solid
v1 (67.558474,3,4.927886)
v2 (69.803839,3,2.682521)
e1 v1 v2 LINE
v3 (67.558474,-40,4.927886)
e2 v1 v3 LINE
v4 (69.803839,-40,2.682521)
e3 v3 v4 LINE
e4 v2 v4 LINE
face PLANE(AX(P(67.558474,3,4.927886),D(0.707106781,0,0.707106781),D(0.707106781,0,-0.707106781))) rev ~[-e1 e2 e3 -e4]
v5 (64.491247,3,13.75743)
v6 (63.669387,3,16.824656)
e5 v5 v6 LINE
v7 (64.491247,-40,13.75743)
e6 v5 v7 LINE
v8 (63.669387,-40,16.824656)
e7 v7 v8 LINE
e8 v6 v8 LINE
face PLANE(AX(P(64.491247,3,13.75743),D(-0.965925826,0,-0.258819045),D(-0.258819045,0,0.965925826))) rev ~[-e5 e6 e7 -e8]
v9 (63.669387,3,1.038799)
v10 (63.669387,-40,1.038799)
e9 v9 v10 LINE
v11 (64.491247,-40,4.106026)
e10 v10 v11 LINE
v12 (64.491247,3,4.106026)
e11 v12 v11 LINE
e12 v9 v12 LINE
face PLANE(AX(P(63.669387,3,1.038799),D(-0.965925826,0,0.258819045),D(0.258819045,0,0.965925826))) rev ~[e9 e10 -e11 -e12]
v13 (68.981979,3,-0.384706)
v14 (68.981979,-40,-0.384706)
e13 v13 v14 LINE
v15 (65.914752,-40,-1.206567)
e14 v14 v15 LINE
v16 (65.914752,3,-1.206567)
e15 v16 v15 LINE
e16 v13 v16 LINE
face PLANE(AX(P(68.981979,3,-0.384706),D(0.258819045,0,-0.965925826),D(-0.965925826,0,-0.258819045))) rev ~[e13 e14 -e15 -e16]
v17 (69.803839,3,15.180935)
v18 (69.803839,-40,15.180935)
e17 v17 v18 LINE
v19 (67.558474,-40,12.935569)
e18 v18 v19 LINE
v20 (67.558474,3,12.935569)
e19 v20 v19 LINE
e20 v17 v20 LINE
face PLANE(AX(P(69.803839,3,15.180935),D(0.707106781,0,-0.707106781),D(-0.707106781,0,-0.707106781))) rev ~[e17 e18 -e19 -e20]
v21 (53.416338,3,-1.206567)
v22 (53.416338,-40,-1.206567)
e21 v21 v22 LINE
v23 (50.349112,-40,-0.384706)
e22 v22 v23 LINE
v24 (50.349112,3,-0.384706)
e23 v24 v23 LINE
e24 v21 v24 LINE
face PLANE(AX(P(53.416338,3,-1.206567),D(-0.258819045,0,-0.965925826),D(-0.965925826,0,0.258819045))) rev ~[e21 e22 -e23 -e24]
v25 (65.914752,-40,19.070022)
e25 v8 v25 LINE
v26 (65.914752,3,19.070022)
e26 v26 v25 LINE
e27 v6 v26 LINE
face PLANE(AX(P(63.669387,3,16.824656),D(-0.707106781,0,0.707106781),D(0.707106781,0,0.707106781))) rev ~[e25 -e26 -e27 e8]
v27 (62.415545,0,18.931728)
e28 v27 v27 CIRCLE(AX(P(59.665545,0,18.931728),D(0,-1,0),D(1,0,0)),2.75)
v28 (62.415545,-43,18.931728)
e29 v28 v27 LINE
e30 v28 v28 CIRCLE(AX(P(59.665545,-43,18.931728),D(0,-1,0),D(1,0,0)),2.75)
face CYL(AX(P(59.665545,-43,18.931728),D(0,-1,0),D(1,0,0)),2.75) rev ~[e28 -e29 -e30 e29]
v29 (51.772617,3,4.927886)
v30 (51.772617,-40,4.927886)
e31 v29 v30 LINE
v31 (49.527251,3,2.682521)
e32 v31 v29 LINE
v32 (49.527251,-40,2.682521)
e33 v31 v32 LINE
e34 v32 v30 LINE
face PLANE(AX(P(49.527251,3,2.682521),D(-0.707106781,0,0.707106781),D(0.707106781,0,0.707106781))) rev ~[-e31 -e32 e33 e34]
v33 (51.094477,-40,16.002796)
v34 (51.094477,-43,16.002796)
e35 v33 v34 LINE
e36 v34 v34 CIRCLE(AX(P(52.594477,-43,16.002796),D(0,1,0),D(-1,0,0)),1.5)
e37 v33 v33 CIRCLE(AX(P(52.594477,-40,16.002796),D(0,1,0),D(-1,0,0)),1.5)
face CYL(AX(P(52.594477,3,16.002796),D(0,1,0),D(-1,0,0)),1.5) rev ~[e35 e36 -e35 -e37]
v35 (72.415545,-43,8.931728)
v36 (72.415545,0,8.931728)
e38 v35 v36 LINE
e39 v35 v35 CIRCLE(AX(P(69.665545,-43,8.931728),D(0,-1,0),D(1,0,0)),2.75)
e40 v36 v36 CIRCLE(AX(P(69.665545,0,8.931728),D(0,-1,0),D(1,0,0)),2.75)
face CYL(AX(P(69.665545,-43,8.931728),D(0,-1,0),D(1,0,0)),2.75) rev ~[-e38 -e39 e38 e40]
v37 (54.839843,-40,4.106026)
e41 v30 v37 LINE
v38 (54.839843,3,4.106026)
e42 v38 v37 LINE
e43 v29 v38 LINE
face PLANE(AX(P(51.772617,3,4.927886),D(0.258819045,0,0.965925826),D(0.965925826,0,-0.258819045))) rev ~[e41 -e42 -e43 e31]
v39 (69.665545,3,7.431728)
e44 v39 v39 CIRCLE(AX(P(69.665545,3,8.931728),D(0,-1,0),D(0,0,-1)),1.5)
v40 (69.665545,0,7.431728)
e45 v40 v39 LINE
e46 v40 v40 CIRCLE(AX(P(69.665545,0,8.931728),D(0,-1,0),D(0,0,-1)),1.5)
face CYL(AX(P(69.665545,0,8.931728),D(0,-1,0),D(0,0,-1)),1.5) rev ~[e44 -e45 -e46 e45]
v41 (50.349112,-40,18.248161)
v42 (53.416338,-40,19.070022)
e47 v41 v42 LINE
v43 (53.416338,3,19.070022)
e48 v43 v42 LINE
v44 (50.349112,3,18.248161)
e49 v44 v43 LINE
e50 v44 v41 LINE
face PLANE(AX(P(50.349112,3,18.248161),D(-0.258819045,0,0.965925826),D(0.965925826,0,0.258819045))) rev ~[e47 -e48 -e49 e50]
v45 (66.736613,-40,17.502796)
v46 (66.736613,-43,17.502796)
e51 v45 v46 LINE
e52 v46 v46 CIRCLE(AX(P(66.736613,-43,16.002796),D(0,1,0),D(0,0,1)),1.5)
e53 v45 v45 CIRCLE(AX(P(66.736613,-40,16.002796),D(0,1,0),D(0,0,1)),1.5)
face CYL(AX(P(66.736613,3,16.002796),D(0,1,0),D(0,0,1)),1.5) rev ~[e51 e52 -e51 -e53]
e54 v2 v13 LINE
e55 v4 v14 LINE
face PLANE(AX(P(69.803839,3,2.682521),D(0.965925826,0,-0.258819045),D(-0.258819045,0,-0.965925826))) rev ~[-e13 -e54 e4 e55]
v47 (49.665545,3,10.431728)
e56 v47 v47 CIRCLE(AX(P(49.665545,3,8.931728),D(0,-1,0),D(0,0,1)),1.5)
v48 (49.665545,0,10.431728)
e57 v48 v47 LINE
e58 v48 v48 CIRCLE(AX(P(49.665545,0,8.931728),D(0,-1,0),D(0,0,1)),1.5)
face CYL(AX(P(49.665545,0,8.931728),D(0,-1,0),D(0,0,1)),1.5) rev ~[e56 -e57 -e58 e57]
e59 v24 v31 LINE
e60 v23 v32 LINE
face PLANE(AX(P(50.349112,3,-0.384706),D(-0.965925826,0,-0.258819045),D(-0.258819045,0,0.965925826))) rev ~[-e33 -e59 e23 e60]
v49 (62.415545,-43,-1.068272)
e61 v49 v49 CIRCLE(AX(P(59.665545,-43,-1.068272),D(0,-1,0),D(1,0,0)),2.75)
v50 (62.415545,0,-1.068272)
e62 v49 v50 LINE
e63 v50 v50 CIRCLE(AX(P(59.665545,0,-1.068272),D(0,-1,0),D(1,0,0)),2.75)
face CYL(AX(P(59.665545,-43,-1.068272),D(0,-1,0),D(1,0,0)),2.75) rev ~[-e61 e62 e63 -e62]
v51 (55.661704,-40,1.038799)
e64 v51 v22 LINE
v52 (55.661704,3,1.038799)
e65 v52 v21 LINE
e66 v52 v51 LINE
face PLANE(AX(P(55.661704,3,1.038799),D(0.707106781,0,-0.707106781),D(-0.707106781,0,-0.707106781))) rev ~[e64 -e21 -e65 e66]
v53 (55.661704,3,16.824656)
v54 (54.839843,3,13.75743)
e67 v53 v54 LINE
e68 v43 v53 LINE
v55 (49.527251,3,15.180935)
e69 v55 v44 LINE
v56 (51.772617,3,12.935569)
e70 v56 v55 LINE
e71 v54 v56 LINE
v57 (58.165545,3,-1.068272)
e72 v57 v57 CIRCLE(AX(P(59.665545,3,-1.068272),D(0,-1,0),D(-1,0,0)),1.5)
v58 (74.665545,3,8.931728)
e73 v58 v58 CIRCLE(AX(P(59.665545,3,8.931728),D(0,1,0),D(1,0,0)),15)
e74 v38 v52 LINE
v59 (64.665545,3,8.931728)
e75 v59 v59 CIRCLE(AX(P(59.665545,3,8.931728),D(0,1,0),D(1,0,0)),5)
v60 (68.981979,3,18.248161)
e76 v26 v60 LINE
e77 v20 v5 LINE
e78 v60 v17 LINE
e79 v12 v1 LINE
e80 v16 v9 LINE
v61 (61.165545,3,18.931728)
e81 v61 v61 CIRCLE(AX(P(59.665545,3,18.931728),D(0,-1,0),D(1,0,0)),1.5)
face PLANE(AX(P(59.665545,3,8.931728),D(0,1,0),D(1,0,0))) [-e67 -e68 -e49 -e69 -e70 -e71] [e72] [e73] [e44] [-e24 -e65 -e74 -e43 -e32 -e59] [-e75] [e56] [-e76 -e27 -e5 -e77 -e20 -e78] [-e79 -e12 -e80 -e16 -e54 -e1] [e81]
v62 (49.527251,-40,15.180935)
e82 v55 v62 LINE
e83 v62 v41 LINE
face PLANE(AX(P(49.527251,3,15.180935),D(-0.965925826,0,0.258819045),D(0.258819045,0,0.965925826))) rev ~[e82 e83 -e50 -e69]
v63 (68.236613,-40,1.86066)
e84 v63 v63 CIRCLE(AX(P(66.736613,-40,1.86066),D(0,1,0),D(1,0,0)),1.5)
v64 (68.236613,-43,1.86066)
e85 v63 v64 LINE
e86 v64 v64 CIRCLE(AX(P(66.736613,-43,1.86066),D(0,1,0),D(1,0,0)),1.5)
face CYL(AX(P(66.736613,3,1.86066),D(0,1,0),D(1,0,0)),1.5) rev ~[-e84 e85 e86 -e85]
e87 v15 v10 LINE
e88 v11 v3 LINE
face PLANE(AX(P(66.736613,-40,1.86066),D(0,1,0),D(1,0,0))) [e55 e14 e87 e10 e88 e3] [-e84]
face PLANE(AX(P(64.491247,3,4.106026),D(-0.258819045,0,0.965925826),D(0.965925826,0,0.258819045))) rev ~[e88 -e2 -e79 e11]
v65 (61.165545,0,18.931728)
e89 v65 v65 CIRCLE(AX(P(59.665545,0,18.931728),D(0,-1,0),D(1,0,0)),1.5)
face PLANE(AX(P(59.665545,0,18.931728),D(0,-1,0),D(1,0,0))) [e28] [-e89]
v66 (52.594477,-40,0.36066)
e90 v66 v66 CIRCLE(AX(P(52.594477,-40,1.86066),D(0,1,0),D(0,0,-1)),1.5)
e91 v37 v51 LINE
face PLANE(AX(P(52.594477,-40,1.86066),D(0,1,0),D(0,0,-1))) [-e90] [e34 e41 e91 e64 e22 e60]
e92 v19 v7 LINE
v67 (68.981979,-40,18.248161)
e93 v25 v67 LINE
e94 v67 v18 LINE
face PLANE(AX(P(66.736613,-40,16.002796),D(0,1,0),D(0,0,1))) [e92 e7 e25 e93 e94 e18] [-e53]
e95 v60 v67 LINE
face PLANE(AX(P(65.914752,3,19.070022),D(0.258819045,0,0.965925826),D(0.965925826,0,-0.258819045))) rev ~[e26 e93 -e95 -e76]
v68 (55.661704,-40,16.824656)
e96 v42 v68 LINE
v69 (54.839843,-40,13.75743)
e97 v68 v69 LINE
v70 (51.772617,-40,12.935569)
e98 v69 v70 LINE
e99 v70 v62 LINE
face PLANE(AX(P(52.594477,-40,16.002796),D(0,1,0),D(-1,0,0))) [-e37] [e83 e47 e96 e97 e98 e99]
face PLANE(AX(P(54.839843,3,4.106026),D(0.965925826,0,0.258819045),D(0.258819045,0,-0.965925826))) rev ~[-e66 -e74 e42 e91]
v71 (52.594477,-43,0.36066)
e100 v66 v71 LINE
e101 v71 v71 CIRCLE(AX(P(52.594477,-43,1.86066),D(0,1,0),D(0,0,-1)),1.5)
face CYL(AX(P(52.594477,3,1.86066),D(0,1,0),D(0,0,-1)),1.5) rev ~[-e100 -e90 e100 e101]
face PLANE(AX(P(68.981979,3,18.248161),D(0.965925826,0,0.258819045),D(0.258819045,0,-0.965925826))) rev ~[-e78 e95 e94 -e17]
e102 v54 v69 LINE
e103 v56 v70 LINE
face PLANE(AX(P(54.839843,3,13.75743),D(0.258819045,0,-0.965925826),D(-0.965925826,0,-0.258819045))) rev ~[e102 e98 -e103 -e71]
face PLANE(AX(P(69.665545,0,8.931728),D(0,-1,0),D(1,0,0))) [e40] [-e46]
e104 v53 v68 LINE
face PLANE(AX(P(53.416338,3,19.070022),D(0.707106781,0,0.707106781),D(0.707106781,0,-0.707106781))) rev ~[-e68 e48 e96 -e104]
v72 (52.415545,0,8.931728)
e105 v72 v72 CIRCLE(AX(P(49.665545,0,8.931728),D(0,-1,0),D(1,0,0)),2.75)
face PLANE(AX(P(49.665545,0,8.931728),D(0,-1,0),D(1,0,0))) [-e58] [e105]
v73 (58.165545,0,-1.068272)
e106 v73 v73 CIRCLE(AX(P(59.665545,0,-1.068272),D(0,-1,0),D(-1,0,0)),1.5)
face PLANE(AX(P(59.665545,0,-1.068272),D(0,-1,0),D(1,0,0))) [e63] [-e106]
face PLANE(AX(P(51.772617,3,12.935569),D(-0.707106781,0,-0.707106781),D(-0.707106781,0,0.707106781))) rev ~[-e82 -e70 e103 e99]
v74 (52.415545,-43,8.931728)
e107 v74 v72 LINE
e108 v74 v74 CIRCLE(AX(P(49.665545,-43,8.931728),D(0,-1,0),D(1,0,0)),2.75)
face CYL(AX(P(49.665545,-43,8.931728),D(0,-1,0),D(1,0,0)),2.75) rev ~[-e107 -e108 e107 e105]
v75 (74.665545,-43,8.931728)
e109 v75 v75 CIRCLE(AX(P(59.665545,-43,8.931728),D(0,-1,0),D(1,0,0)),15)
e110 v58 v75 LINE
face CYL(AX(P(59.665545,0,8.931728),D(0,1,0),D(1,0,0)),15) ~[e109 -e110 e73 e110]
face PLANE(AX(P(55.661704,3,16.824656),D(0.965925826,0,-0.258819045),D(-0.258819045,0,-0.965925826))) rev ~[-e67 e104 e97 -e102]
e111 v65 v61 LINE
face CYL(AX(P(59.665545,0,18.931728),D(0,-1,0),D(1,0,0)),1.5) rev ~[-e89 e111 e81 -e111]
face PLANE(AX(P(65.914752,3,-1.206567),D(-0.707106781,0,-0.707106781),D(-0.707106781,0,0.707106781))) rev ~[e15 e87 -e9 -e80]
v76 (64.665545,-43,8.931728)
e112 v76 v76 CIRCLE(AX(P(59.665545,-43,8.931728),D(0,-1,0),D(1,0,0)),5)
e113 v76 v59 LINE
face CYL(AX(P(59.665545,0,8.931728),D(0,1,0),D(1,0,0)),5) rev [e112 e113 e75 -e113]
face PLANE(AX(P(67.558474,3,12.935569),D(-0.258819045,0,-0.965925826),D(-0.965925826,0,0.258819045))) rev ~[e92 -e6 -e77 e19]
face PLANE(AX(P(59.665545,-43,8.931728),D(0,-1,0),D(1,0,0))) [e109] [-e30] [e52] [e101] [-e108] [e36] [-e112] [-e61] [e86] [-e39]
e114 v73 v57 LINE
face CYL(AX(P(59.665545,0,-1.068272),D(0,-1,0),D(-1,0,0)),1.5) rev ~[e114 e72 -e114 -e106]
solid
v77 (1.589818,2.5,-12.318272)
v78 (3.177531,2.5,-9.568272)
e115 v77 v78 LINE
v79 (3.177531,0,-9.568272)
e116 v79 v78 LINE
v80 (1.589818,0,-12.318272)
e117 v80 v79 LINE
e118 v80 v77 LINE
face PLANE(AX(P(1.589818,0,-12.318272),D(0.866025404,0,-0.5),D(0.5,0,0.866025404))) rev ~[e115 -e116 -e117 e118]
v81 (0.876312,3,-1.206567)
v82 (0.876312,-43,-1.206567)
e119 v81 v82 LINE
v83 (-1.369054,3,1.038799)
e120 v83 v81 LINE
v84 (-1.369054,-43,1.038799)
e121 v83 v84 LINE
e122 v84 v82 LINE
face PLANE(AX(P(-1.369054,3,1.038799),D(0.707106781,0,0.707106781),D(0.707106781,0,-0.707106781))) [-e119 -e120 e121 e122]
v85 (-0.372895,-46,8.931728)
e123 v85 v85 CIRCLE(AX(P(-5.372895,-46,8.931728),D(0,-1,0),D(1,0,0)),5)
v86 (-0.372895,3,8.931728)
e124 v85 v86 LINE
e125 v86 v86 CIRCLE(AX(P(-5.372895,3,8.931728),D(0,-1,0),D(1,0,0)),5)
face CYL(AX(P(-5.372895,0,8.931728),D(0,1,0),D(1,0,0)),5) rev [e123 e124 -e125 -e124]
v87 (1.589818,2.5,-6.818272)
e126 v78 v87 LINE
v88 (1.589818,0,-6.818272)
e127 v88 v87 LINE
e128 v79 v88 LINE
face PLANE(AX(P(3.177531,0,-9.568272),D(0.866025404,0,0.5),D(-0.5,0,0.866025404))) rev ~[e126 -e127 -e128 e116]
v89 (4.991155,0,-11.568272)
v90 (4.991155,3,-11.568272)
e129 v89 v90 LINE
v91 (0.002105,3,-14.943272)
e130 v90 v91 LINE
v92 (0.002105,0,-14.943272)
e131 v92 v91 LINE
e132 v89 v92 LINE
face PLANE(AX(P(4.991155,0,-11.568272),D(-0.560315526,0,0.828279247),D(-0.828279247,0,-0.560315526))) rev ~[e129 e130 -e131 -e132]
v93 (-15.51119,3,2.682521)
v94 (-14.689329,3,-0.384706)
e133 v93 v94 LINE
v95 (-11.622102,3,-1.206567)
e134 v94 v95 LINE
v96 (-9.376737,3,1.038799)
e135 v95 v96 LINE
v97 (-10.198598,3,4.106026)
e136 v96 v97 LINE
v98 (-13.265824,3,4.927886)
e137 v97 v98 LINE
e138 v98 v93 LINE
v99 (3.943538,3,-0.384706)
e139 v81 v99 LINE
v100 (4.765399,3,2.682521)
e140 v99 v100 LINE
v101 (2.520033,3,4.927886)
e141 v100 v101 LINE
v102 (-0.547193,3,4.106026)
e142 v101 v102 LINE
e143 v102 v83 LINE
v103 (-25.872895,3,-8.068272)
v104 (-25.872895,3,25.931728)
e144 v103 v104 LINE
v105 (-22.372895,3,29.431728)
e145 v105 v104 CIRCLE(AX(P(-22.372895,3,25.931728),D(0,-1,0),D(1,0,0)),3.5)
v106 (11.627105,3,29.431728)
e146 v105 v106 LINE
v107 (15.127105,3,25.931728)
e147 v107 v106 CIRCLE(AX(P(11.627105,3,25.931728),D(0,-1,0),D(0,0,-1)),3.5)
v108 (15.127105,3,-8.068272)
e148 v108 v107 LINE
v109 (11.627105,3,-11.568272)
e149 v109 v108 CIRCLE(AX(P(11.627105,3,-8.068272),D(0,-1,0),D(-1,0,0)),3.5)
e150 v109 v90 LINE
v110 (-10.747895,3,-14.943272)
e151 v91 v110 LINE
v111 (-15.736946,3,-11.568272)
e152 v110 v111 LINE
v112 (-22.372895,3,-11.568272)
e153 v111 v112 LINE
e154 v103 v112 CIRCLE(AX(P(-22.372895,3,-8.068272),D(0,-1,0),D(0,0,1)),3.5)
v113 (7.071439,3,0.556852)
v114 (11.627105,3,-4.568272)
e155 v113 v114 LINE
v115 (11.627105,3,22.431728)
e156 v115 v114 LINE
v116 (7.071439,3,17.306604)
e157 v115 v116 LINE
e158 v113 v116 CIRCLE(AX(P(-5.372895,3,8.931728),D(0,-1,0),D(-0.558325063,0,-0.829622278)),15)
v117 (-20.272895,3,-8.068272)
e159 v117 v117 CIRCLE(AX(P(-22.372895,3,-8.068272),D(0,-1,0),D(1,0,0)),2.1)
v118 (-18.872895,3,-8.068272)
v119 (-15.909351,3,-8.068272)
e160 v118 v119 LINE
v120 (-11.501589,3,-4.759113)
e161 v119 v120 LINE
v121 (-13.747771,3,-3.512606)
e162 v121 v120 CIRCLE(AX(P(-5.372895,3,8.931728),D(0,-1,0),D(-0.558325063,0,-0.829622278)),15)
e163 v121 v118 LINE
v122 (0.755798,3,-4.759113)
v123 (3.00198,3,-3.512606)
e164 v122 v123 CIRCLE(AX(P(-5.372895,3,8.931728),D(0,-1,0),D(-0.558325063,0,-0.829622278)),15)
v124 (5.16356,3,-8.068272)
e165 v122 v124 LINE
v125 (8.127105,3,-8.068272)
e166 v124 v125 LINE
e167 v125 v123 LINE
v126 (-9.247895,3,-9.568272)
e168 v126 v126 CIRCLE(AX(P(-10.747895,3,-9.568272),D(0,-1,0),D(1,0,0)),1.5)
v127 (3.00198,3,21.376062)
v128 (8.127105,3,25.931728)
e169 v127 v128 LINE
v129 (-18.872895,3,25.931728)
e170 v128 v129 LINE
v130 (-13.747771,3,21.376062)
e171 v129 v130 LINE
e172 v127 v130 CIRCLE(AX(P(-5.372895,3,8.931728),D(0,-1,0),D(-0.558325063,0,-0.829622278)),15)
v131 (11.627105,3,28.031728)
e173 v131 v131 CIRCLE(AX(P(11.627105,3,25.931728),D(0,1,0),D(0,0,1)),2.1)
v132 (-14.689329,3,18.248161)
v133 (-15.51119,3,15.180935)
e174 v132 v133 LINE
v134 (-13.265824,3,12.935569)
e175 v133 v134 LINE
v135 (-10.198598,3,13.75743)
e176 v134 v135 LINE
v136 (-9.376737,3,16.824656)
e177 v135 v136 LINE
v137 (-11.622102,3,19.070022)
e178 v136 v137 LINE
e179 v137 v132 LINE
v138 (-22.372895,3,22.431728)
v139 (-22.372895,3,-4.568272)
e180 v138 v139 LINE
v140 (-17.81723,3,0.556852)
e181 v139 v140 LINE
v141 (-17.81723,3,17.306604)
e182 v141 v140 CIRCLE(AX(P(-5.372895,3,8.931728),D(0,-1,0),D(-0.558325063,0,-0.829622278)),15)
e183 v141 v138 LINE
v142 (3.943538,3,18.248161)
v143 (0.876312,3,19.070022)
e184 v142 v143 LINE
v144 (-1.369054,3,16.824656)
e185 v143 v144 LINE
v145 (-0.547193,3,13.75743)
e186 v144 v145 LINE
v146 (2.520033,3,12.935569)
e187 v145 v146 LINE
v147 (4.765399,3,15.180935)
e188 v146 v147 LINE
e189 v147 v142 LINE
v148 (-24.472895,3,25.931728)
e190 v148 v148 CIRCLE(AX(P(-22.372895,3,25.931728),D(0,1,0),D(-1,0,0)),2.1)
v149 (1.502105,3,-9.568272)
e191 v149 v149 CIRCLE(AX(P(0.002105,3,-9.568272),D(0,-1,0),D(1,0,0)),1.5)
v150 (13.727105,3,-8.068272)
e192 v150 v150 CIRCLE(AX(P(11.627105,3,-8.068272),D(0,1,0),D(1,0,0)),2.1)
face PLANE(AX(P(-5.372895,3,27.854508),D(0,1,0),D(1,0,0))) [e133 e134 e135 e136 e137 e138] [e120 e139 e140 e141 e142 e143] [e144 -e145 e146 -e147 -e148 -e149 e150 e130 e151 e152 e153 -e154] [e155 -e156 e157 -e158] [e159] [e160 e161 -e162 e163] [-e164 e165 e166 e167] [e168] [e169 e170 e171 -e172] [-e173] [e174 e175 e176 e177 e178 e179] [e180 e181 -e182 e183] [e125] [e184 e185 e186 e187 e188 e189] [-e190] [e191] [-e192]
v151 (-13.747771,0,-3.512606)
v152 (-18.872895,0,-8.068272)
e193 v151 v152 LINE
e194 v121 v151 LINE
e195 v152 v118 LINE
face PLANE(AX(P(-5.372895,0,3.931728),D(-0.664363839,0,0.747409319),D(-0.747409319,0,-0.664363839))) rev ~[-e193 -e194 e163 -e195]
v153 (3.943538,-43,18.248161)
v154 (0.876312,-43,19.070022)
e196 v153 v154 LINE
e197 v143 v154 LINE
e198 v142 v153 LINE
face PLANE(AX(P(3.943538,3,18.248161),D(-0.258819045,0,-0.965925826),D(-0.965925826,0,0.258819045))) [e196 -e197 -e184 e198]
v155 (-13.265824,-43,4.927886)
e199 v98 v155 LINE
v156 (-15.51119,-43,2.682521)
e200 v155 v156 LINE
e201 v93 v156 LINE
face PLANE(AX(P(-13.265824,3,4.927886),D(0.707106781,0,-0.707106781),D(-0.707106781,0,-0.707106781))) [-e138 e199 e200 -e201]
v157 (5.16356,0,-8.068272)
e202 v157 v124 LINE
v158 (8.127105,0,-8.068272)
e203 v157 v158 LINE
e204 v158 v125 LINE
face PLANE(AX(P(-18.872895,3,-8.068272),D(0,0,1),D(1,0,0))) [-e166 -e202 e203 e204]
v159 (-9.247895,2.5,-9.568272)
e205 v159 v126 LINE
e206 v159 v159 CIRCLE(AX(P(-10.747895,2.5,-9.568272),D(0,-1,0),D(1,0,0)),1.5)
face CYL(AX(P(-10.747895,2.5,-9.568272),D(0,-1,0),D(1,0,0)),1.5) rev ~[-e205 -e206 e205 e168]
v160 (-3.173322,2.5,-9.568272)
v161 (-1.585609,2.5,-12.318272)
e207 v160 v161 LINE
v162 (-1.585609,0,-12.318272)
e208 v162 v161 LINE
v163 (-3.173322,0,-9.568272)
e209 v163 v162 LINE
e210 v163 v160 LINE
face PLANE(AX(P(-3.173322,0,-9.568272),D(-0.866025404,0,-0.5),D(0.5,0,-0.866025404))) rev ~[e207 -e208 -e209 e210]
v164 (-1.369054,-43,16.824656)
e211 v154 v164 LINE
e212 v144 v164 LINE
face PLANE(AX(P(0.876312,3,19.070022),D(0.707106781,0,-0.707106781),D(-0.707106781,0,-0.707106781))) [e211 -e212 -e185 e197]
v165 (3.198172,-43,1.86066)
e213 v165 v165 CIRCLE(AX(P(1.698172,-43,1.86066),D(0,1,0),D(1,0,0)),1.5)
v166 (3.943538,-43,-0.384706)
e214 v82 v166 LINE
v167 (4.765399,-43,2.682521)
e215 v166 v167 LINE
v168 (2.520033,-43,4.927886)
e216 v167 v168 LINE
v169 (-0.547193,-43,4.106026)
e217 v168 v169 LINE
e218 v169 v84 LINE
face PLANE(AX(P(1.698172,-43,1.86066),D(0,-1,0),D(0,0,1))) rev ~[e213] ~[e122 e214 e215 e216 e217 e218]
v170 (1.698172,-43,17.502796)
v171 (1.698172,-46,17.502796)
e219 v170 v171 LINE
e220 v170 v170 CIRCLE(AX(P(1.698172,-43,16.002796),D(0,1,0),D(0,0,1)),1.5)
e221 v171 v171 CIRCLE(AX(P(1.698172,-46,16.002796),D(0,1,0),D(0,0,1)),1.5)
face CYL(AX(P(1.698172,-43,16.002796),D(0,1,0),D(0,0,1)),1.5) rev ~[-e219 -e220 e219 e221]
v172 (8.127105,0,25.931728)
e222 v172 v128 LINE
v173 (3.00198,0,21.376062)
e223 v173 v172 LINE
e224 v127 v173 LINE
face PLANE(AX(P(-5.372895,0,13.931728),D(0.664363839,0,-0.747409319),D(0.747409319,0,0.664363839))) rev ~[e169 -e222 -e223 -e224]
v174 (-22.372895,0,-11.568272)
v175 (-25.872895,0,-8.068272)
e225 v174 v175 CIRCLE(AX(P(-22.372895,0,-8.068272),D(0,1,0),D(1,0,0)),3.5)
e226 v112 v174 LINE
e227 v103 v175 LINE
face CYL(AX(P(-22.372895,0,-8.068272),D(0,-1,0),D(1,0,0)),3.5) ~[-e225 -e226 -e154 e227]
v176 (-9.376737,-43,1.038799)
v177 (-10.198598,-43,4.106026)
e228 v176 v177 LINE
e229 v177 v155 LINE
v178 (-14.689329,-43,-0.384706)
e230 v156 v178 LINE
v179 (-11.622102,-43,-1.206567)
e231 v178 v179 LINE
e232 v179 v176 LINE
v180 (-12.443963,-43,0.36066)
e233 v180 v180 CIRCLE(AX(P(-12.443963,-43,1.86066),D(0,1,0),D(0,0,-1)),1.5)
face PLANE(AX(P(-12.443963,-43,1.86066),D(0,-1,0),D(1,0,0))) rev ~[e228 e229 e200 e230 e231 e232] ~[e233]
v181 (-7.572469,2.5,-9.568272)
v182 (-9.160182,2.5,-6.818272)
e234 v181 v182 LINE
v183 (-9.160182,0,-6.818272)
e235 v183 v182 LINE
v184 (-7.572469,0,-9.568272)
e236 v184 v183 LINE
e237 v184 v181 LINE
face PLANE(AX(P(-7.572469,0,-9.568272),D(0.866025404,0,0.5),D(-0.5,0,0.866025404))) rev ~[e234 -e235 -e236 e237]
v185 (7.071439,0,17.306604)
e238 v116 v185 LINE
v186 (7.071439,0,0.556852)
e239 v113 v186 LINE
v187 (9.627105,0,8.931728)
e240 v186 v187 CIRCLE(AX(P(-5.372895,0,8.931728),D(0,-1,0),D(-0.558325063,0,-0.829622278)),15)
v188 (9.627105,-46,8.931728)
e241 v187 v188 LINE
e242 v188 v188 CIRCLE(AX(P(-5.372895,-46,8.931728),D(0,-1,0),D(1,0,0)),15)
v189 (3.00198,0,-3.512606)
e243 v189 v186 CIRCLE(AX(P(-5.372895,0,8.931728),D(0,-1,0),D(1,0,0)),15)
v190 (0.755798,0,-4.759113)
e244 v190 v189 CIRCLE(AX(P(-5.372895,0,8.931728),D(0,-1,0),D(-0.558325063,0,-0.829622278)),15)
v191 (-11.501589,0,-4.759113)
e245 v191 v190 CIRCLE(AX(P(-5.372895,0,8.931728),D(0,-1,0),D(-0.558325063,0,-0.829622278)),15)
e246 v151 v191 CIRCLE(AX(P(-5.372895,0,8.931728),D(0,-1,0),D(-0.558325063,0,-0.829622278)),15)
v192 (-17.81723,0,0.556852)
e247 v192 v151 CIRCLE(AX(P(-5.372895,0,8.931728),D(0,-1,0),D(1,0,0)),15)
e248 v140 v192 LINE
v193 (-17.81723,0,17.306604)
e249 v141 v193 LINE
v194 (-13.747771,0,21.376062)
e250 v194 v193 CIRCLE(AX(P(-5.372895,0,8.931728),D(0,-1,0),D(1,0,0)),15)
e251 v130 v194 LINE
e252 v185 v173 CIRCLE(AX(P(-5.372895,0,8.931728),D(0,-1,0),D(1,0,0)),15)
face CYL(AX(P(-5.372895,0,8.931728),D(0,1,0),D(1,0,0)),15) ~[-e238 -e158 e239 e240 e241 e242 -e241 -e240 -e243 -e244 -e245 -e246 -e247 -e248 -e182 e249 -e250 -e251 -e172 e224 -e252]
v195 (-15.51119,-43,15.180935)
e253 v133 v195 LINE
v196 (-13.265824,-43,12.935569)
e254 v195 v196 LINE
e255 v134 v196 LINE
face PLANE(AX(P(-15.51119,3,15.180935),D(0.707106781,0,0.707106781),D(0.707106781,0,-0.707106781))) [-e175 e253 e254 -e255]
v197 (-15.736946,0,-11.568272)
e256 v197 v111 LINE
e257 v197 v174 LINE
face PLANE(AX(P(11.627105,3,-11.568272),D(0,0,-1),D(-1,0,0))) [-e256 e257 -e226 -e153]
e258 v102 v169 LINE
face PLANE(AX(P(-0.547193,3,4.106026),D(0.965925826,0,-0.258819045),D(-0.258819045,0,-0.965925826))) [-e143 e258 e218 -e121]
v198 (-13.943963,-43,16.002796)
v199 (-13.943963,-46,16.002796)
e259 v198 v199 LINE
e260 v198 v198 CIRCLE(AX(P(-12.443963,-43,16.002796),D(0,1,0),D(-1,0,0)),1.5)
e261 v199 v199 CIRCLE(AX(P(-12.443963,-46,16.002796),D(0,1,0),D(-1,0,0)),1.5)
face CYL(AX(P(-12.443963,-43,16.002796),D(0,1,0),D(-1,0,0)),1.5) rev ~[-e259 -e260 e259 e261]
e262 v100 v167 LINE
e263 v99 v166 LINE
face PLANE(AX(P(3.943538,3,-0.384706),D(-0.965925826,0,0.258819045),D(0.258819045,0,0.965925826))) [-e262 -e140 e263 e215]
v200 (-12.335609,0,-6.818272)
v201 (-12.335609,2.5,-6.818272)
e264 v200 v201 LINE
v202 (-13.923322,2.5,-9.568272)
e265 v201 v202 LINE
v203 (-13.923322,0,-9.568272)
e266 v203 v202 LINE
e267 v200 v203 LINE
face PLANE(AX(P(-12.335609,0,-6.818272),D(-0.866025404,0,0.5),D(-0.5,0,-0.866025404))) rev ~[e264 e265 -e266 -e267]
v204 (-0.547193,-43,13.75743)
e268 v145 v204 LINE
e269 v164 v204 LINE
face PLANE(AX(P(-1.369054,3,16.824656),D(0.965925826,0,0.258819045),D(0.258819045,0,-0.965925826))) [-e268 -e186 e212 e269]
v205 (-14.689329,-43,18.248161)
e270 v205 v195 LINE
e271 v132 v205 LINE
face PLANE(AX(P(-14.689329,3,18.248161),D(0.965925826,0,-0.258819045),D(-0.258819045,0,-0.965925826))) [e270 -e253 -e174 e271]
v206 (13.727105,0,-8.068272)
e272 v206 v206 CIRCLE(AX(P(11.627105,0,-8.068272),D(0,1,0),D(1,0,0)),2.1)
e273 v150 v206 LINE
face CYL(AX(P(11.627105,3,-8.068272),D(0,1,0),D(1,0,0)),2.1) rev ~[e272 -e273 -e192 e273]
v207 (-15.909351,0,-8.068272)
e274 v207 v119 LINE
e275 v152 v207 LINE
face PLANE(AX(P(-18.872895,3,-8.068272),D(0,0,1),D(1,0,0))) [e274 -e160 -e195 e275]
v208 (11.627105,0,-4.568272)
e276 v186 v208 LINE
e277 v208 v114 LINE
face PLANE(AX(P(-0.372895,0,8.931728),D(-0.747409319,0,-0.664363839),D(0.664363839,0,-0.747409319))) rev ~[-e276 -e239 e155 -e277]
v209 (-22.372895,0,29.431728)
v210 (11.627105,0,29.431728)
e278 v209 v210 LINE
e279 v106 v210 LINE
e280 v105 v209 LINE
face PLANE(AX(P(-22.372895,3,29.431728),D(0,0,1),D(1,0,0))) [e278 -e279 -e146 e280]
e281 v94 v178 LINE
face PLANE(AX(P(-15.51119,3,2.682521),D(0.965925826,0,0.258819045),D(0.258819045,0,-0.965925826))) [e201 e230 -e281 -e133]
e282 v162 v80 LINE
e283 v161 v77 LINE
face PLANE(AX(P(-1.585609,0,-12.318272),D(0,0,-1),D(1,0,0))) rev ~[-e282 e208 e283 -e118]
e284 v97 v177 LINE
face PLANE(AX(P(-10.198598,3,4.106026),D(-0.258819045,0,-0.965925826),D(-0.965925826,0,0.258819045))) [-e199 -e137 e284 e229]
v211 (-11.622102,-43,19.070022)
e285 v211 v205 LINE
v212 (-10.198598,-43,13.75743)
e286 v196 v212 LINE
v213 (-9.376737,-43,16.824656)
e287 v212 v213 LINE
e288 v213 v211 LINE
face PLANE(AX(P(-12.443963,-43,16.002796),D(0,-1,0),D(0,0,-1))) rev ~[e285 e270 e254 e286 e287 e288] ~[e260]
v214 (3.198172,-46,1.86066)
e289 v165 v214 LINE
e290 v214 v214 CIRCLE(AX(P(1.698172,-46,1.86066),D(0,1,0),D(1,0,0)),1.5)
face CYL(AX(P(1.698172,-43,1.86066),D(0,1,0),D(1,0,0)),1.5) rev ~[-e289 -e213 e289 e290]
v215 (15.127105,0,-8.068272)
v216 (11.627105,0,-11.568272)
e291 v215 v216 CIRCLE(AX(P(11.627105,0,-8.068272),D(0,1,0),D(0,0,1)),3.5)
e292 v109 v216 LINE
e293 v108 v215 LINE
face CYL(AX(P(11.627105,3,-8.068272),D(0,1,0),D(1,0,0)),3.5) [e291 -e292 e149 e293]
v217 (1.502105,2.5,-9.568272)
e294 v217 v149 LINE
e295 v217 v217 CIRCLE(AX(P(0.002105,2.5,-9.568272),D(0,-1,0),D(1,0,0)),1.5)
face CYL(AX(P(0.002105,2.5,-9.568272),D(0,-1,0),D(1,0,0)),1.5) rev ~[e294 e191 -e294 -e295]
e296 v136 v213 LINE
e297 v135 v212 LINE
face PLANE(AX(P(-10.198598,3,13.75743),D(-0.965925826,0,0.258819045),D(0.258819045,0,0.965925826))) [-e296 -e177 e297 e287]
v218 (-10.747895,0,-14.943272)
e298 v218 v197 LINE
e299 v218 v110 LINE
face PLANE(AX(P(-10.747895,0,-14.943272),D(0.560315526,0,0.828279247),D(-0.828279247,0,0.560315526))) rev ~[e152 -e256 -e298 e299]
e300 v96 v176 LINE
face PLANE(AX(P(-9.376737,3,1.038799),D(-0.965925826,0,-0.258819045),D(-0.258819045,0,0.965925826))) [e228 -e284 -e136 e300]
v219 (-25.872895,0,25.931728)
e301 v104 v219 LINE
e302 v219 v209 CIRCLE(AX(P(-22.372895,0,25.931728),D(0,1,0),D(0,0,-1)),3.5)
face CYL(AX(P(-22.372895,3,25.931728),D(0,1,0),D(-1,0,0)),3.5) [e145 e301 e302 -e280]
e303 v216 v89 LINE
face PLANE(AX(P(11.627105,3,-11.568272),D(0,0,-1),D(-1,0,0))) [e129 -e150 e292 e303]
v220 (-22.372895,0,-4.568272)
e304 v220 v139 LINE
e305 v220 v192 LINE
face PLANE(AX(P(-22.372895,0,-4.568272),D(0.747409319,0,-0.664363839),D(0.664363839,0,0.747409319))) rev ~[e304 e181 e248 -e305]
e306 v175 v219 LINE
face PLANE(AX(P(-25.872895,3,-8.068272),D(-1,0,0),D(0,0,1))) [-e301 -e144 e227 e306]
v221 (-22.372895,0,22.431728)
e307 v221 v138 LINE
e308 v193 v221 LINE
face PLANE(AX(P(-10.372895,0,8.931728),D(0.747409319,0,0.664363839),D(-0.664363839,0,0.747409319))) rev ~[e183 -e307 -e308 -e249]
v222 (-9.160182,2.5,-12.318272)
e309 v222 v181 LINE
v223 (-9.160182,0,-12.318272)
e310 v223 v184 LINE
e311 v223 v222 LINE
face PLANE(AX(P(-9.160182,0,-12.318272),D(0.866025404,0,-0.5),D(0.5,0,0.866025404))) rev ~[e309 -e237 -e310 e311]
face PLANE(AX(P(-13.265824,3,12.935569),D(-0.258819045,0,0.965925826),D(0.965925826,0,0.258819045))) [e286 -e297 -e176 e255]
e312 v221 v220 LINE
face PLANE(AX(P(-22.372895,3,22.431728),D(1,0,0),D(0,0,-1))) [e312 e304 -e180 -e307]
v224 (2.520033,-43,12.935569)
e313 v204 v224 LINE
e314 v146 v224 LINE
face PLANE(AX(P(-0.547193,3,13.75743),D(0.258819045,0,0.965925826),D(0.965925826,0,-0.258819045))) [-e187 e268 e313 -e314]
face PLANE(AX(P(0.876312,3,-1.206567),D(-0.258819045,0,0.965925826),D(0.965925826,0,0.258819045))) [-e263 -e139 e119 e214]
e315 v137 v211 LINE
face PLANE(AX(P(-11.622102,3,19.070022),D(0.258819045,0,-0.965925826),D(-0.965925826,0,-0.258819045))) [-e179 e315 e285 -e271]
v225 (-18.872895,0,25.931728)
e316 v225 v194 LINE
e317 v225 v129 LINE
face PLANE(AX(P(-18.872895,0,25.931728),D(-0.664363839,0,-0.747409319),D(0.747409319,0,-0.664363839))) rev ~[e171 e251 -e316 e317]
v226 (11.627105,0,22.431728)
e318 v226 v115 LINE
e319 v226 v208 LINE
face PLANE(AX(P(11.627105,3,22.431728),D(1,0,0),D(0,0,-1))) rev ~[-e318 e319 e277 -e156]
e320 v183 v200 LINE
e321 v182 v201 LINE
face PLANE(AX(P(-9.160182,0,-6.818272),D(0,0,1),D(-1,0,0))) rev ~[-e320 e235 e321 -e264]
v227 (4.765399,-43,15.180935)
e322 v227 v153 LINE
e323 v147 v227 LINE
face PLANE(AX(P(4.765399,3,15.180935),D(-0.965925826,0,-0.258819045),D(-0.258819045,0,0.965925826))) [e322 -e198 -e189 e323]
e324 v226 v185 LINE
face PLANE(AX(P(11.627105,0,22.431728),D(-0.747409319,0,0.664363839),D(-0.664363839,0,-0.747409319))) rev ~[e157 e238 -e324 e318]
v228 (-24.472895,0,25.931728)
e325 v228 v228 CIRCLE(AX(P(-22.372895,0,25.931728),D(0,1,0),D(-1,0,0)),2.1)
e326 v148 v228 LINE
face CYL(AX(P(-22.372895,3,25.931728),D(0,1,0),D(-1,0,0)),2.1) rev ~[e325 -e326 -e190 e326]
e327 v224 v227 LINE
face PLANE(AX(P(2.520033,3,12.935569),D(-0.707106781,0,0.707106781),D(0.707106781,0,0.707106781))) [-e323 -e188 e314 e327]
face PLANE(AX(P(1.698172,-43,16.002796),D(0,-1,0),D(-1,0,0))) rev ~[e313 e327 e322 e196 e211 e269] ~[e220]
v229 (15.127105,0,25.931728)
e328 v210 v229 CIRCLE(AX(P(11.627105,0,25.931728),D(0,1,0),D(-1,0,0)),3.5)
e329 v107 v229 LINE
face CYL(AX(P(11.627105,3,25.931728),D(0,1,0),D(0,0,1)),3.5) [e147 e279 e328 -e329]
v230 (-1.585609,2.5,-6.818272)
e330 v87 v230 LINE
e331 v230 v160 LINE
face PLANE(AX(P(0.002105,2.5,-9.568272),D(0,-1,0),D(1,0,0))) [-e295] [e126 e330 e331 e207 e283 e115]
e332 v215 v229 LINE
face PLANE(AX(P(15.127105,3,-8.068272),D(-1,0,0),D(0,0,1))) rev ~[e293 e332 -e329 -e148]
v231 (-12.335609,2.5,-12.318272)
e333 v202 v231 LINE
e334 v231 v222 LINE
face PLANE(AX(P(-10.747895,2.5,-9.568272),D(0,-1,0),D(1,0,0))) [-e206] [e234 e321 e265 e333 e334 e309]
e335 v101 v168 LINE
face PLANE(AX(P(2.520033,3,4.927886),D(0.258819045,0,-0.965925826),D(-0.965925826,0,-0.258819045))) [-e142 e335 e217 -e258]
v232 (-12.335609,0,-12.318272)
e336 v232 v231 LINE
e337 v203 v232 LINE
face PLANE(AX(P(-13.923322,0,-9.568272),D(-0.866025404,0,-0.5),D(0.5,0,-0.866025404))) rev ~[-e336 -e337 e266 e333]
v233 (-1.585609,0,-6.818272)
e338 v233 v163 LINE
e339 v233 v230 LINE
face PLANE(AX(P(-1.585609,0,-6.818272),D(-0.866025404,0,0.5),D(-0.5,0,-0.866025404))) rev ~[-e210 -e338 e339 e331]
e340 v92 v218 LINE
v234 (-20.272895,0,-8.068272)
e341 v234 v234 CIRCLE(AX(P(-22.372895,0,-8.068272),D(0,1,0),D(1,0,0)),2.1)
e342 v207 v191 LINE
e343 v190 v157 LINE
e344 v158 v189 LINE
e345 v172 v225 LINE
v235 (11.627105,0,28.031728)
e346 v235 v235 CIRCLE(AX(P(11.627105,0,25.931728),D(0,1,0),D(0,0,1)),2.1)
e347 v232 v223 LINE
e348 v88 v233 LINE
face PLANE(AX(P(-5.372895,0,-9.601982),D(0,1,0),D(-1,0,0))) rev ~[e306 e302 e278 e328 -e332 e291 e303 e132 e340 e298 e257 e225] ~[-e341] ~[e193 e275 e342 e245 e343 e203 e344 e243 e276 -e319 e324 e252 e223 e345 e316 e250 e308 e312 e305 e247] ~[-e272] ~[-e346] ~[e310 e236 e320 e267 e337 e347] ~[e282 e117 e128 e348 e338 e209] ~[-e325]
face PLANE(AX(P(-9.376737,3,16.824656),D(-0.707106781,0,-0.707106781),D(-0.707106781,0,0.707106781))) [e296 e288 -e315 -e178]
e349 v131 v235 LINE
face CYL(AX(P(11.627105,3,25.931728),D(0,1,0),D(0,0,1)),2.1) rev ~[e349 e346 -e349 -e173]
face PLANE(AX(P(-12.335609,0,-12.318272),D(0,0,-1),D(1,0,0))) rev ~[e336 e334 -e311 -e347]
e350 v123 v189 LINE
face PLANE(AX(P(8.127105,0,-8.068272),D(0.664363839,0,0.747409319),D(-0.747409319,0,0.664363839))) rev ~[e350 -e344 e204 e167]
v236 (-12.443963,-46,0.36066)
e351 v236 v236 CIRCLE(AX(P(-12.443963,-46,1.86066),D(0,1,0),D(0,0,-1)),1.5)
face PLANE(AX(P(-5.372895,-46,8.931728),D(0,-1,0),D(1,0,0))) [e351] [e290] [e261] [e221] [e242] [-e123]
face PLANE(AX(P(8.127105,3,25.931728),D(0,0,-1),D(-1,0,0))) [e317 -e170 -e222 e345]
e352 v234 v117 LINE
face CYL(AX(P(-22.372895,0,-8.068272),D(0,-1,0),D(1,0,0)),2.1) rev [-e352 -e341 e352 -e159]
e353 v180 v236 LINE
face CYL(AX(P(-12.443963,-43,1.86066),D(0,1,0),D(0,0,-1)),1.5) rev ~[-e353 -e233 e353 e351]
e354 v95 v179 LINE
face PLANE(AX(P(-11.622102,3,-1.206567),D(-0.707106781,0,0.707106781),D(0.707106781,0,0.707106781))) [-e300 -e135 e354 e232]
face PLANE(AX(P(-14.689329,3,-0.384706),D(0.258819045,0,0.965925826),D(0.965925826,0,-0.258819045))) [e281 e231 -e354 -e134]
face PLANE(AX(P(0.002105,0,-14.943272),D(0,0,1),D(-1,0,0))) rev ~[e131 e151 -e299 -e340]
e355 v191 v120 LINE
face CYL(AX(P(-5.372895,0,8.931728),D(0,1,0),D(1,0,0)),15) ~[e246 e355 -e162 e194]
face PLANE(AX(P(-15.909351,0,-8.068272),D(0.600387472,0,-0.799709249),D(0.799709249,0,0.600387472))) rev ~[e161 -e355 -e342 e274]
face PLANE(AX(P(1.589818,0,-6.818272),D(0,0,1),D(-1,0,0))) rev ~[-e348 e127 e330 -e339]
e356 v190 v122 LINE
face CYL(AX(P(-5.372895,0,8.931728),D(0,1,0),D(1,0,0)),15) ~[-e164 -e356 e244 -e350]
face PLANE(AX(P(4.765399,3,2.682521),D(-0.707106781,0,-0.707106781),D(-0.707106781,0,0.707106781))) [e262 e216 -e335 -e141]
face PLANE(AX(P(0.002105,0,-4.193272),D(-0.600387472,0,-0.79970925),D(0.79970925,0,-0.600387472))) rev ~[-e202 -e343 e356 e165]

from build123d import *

# Parameters (mm, degrees)
SKETCH_1_R               = 15
SKETCH_1_R_2             = 5
EXTRUDE_4_DEPTH          = 3
SKETCH_1_R_3             = 3.5
SKETCH_1_R_4             = 2.1
EXTRUDE_4_2_DEPTH        = 3
EXTRUDE_5_DEPTH          = 3
PATTERN_CIRCULAR_2_COUNT = 4
SKETCH_6_R               = 3.5
SKETCH_6_R_2             = 2.1
EXTRUDE_6_DEPTH          = 3
PATTERN_CIRCULAR_3_COUNT = 4
SKETCH_7_R               = 15
SKETCH_7_R_2             = 5
EXTRUDE_7_DEPTH          = 46
CUT_EXTRUDE_1_DEPTH      = 46
PATTERN_CIRCULAR_4_COUNT = 4
SKETCH_11_R              = 1.5
CUT_EXTRUDE_2_DEPTH      = 3
PATTERN_CIRCULAR_5_COUNT = 4
EXTRUDE_8_DEPTH          = 3
EXTRUDE_9_DEPTH          = 3
EXTRUDE_10_DEPTH         = 3
EXTRUDE_11_DEPTH         = 3
EXTRUDE_13_DEPTH         = 3
EXTRUDE_14_DEPTH         = 3
CUT_EXTRUDE_3_DEPTH      = 2.5
SKETCH_19_R              = 1.5
CUT_EXTRUDE_4_DEPTH      = 2.5
SKETCH_20_R              = 1.5
CUT_EXTRUDE_5_DEPTH      = 2.5
SKETCH_21_R              = 15
SKETCH_21_R_2            = 5
EXTRUDE_15_DEPTH         = 3
SKETCH_22_R              = 1.5
CUT_EXTRUDE_6_DEPTH      = 3
PATTERN_CIRCULAR_6_COUNT = 4
EXTRUDE_16_DEPTH         = 3
CUT_EXTRUDE_7_DEPTH      = 3
SKETCH_25_R              = 15
SKETCH_25_R_2            = 5
EXTRUDE_17_DEPTH         = 43
SKETCH_27_R              = 1.5
CUT_EXTRUDE_8_DEPTH      = 46
SKETCH_28_R              = 2.75
CUT_EXTRUDE_9_DEPTH      = 43
SKETCH_29_R              = 1.5
CUT_EXTRUDE_10_DEPTH     = 46
PATTERN_CIRCULAR_7_COUNT = 4
CUT_EXTRUDE_11_DEPTH     = 43
PATTERN_CIRCULAR_8_COUNT = 4


with BuildPart() as part:
    # 草图1 → 凸台-拉伸4 (new body)
    with BuildSketch(Plane(origin=(0, 0, 0), x_dir=(1, 0, 0), z_dir=(0, 1, 0))):
        with Locations((-5.372895461, -8.931727747)):
            Circle(SKETCH_1_R)
        with Locations((-5.372895461, -8.931727747)):
            Circle(SKETCH_1_R_2, mode=Mode.SUBTRACT)
    extrude(amount=EXTRUDE_4_DEPTH)



with BuildPart() as body_2:
    # 草图1 → Extrude 4 2 (new body)
    with BuildSketch(Plane(origin=(0, 0, 0), x_dir=(1, 0, 0), z_dir=(0, 1, 0))):
        with Locations((-22.372895461, 8.068272253)):
            Circle(SKETCH_1_R_3)
        with Locations((-22.372895461, 8.068272253)):
            Circle(SKETCH_1_R_4, mode=Mode.SUBTRACT)
    extrude(amount=EXTRUDE_4_2_DEPTH)


with BuildPart() as part_1:
    add(part.part)

    add(body_2.part)  # 凸台-拉伸5 merges body 2
    # 草图5 → 凸台-拉伸5 (add)
    with BuildSketch(Plane(origin=(0, 0, 0), x_dir=(1, 0, 0), z_dir=(0, 1, 0))):
        Polygon((-22.372895461, 4.568272253), (-10.372895461, -8.931727747), (-10.372895461, -3.931727747), (-5.372895461, -3.931727747), (-18.872895461, 8.068272253), align=None)
    extrude_5 = extrude(amount=EXTRUDE_5_DEPTH)

    # 阵列(圆周)2: 凸台-拉伸5 ×4 about axis
    pattern_circular_2_axis = Axis((-5.372895461, 0, 8.931727747), (0, 1, 0))
    for i in range(1, PATTERN_CIRCULAR_2_COUNT):
        add(extrude_5.rotate(pattern_circular_2_axis, i * 360 / PATTERN_CIRCULAR_2_COUNT))

    # 草图6 → 凸台-拉伸6 (add)
    with BuildSketch(Plane(origin=(0, 3, 0), x_dir=(1, 0, 0), z_dir=(0, 1, 0))):
        with Locations((11.627104539, 8.068272253)):
            Circle(SKETCH_6_R)
        with Locations((11.627104539, 8.068272253)):
            Circle(SKETCH_6_R_2, mode=Mode.SUBTRACT)
    extrude_6 = extrude(amount=-EXTRUDE_6_DEPTH)

    # 阵列(圆周)3: 凸台-拉伸6 ×4 about axis
    pattern_circular_3_axis = Axis((-5.372895461, 0, 8.931727747), (0, 1, 0))
    for i in range(1, PATTERN_CIRCULAR_3_COUNT):
        add(extrude_6.rotate(pattern_circular_3_axis, i * 360 / PATTERN_CIRCULAR_3_COUNT))

    # 草图7 → 凸台-拉伸7 (add)
    with BuildSketch(Plane.XZ):
        with Locations((-5.372895461, 8.931727747)):
            Circle(SKETCH_7_R)
        with Locations((-5.372895461, 8.931727747)):
            Circle(SKETCH_7_R_2, mode=Mode.SUBTRACT)
    extrude(amount=EXTRUDE_7_DEPTH)

    # 草图9 → 切除-拉伸1 (cut)
    with BuildSketch(Plane(origin=(0, 3, 0), x_dir=(1, 0, 0), z_dir=(0, 1, 0))):
        Polygon((0.876311502, -19.070022006), (-1.369054096, -16.824656408), (-0.547193246, -13.757429961), (2.520033201, -12.935569112), (4.765398798, -15.180934709), (3.943537949, -18.248161156), align=None)
    cut_extrude_1 = extrude(amount=-CUT_EXTRUDE_1_DEPTH, mode=Mode.SUBTRACT)

    # 阵列(圆周)4: 切除-拉伸1 ×4 about axis
    pattern_circular_4_axis = Axis((-5.372895461, 0, 8.931727747), (0, 1, 0))
    for i in range(1, PATTERN_CIRCULAR_4_COUNT):
        add(cut_extrude_1.rotate(pattern_circular_4_axis, i * 360 / PATTERN_CIRCULAR_4_COUNT), mode=Mode.SUBTRACT)

    # 草图11 → 切除-拉伸2 (cut)
    with BuildSketch(Plane(origin=(0, -43, 0), x_dir=(1, 0, 0), z_dir=(0, 1, 0))):
        with Locations((1.698172351, -1.860659935)):
            Circle(SKETCH_11_R)
    cut_extrude_2 = extrude(amount=-CUT_EXTRUDE_2_DEPTH, mode=Mode.SUBTRACT)

    # 阵列(圆周)5: 切除-拉伸2 ×4 about axis
    pattern_circular_5_axis = Axis((-5.372895461, 0, 8.931727747), (0, 1, 0))
    for i in range(1, PATTERN_CIRCULAR_5_COUNT):
        add(cut_extrude_2.rotate(pattern_circular_5_axis, i * 360 / PATTERN_CIRCULAR_5_COUNT), mode=Mode.SUBTRACT)

    # 草图12 → 凸台-拉伸8 (add)
    with BuildSketch(Plane(origin=(0, 3, 0), x_dir=(1, 0, 0), z_dir=(0, 1, 0))):
        Polygon((15.127104539, 8.068272253), (15.127104539, -25.931727747), (11.627104539, -22.431727747), (11.627104539, 4.568272253), align=None)
    extrude(amount=-EXTRUDE_8_DEPTH)

    # 草图13 → 凸台-拉伸9 (add)
    with BuildSketch(Plane(origin=(0, 3, 0), x_dir=(1, 0, 0), z_dir=(0, 1, 0))):
        Polygon((11.627104539, 11.568272253), (-22.372895461, 11.568272253), (-18.872895461, 8.068272253), (8.127104539, 8.068272253), align=None)
    extrude(amount=-EXTRUDE_9_DEPTH)

    # 草图14 → 凸台-拉伸10 (add)
    with BuildSketch(Plane(origin=(0, 3, 0), x_dir=(1, 0, 0), z_dir=(0, 1, 0))):
        Polygon((-25.872895461, 8.068272253), (-25.872895461, -25.931727747), (-22.372895461, -22.431727747), (-22.372895461, 4.568272253), align=None)
    extrude(amount=-EXTRUDE_10_DEPTH)

    # 草图15 → 凸台-拉伸11 (add)
    with BuildSketch(Plane(origin=(0, 3, 0), x_dir=(1, 0, 0), z_dir=(0, 1, 0))):
        Polygon((-22.372895461, -29.431727747), (11.627104539, -29.431727747), (8.127104539, -25.931727747), (-18.872895461, -25.931727747), align=None)
    extrude(amount=-EXTRUDE_11_DEPTH)

    # 草图16 → 凸台-拉伸13 (add)
    with BuildSketch(Plane.XZ):
        Polygon((-10.747895461, -4.193272253), (0.002104539, -4.193272253), (5.163560245, -8.068272253), (4.99115505, -11.568272253), (0.002104539, -14.943272253), (-10.747895461, -14.943272253), (-15.736945971, -11.568272253), (-15.909351166, -8.068272253), align=None)
        Polygon((-7.57246898, -9.568272253), (-9.16018222, -6.818272253), (-12.335608701, -6.818272253), (-13.923321941, -9.568272253), (-12.335608701, -12.318272253), (-9.16018222, -12.318272253), align=None, mode=Mode.SUBTRACT)
        Polygon((3.17753102, -9.568272253), (1.58981778, -6.818272253), (-1.585608701, -6.818272253), (-3.173321941, -9.568272253), (-1.585608701, -12.318272253), (1.58981778, -12.318272253), align=None, mode=Mode.SUBTRACT)
    extrude(amount=-EXTRUDE_13_DEPTH)

    # 草图18 → 凸台-拉伸14 (add)
    with BuildSketch(Plane.XZ):
        Polygon((-7.57246898, -9.568272253), (-9.16018222, -6.818272253), (-12.335608701, -6.818272253), (-13.923321941, -9.568272253), (-12.335608701, -12.318272253), (-9.16018222, -12.318272253), align=None)
        Polygon((3.17753102, -9.568272253), (1.58981778, -6.818272253), (-1.585608701, -6.818272253), (-3.173321941, -9.568272253), (-1.585608701, -12.318272253), (1.58981778, -12.318272253), align=None)
    extrude(amount=-EXTRUDE_14_DEPTH)

    # 草图17 → 切除-拉伸3 (cut)
    with BuildSketch(Plane.XZ):
        Polygon((-7.57246898, -9.568272253), (-9.16018222, -6.818272253), (-12.335608701, -6.818272253), (-13.923321941, -9.568272253), (-12.335608701, -12.318272253), (-9.16018222, -12.318272253), align=None)
        Polygon((3.17753102, -9.568272253), (1.58981778, -6.818272253), (-1.585608701, -6.818272253), (-3.173321941, -9.568272253), (-1.585608701, -12.318272253), (1.58981778, -12.318272253), align=None)
    extrude(amount=-CUT_EXTRUDE_3_DEPTH, mode=Mode.SUBTRACT)

    # 草图19 → 切除-拉伸4 (cut)
    with BuildSketch(Plane.XZ.offset(-2.5)):
        with Locations((0.002104539, -9.568272253)):
            Circle(SKETCH_19_R)
    extrude(amount=-CUT_EXTRUDE_4_DEPTH, mode=Mode.SUBTRACT)

    # 草图20 → 切除-拉伸5 (cut)
    with BuildSketch(Plane.XZ.offset(-2.5)):
        with Locations((-10.747895461, -9.568272253)):
            Circle(SKETCH_20_R)
    extrude(amount=-CUT_EXTRUDE_5_DEPTH, mode=Mode.SUBTRACT)

    # 草图8 → 凸台-拉伸16 (add)
    with BuildSketch(Plane.XZ.offset(46)):
        Polygon((3.943537949, 18.248161156), (0.876311502, 19.070022006), (-1.369054096, 16.824656408), (-0.547193246, 13.757429961), (2.520033201, 12.935569112), (4.765398798, 15.180934709), align=None)
    extrude(amount=EXTRUDE_16_DEPTH)

    # 草图24 → 切除-拉伸7 (cut)
    with BuildSketch(Plane.XZ.offset(49)):
        Polygon((4.765398798, 15.180934709), (3.943537949, 18.248161156), (0.876311502, 19.070022006), (-1.369054096, 16.824656408), (-0.547193246, 13.757429961), (2.520033201, 12.935569112), align=None)
    extrude(amount=-CUT_EXTRUDE_7_DEPTH, mode=Mode.SUBTRACT)


with BuildPart() as body_2_2:
    # 草图21 → 凸台-拉伸15 (new body)
    with BuildSketch(Plane(origin=(0, 0, 0), x_dir=(1, 0, 0), z_dir=(0, 1, 0))):
        with Locations((59.665545214, -8.931727747)):
            Circle(SKETCH_21_R)
        with Locations((59.665545214, -8.931727747)):
            Circle(SKETCH_21_R_2, mode=Mode.SUBTRACT)
    extrude(amount=EXTRUDE_15_DEPTH)

    # 草图22 → 切除-拉伸6 (cut)
    with BuildSketch(Plane.XZ):
        with Locations((59.665545214, 18.931727747)):
            Circle(SKETCH_22_R)
    cut_extrude_6 = extrude(amount=-CUT_EXTRUDE_6_DEPTH, mode=Mode.SUBTRACT)

    # 阵列(圆周)6: 切除-拉伸6 ×4 about axis
    pattern_circular_6_axis = Axis((59.665545214, 0, 8.931727747), (0, 1, 0))
    for i in range(1, PATTERN_CIRCULAR_6_COUNT):
        add(cut_extrude_6.rotate(pattern_circular_6_axis, i * 360 / PATTERN_CIRCULAR_6_COUNT), mode=Mode.SUBTRACT)

    # 草图25 → 凸台-拉伸17 (add)
    with BuildSketch(Plane.XZ):
        with Locations((59.665545214, 8.931727747)):
            Circle(SKETCH_25_R)
        with Locations((59.665545214, 8.931727747)):
            Circle(SKETCH_25_R_2, mode=Mode.SUBTRACT)
    extrude(amount=EXTRUDE_17_DEPTH)

    # 草图27 → 切除-拉伸8 (cut)
    with BuildSketch(Plane(origin=(0, 3, 0), x_dir=(1, 0, 0), z_dir=(0, 1, 0))):
        with Locations((59.665545214, 1.068272253)):
            Circle(SKETCH_27_R)
        with Locations((69.665545214, -8.931727747)):
            Circle(SKETCH_27_R)
        with Locations((59.665545214, -18.931727747)):
            Circle(SKETCH_27_R)
        with Locations((49.665545214, -8.931727747)):
            Circle(SKETCH_27_R)
    extrude(amount=-CUT_EXTRUDE_8_DEPTH, mode=Mode.SUBTRACT)

    # 草图28 → 切除-拉伸9 (cut)
    with BuildSketch(Plane.XZ.offset(43)):
        with Locations((59.665545214, 18.931727747)):
            Circle(SKETCH_28_R)
        with Locations((49.665545214, 8.931727747)):
            Circle(SKETCH_28_R)
        with Locations((59.665545214, -1.068272253)):
            Circle(SKETCH_28_R)
        with Locations((69.665545214, 8.931727747)):
            Circle(SKETCH_28_R)
    extrude(amount=-CUT_EXTRUDE_9_DEPTH, mode=Mode.SUBTRACT)

    # 草图29 → 切除-拉伸10 (cut)
    with BuildSketch(Plane(origin=(0, 3, 0), x_dir=(1, 0, 0), z_dir=(0, 1, 0))):
        with Locations((66.736613026, -1.860659935)):
            Circle(SKETCH_29_R)
    cut_extrude_10 = extrude(amount=-CUT_EXTRUDE_10_DEPTH, mode=Mode.SUBTRACT)

    # 阵列(圆周)7: 切除-拉伸10 ×4 about axis
    pattern_circular_7_axis = Axis((59.665545214, 0, 8.931727747), (0, 1, 0))
    for i in range(1, PATTERN_CIRCULAR_7_COUNT):
        add(cut_extrude_10.rotate(pattern_circular_7_axis, i * 360 / PATTERN_CIRCULAR_7_COUNT), mode=Mode.SUBTRACT)

    # 草图30 → 切除-拉伸11 (cut)
    with BuildSketch(Plane(origin=(0, 3, 0), x_dir=(1, 0, 0), z_dir=(0, 1, 0))):
        Polygon((64.491247429, -4.106025533), (67.558473876, -4.927886382), (69.803839473, -2.682520785), (68.981978624, 0.384705662), (65.914752177, 1.206566512), (63.669386579, -1.038799086), align=None)
    cut_extrude_11 = extrude(amount=-CUT_EXTRUDE_11_DEPTH, mode=Mode.SUBTRACT)

    # 阵列(圆周)8: 切除-拉伸11 ×4 about axis
    pattern_circular_8_axis = Axis((59.665545214, 0, 8.931727747), (0, 1, 0))
    for i in range(1, PATTERN_CIRCULAR_8_COUNT):
        add(cut_extrude_11.rotate(pattern_circular_8_axis, i * 360 / PATTERN_CIRCULAR_8_COUNT), mode=Mode.SUBTRACT)


solid = Compound([part_1.part, body_2_2.part])
